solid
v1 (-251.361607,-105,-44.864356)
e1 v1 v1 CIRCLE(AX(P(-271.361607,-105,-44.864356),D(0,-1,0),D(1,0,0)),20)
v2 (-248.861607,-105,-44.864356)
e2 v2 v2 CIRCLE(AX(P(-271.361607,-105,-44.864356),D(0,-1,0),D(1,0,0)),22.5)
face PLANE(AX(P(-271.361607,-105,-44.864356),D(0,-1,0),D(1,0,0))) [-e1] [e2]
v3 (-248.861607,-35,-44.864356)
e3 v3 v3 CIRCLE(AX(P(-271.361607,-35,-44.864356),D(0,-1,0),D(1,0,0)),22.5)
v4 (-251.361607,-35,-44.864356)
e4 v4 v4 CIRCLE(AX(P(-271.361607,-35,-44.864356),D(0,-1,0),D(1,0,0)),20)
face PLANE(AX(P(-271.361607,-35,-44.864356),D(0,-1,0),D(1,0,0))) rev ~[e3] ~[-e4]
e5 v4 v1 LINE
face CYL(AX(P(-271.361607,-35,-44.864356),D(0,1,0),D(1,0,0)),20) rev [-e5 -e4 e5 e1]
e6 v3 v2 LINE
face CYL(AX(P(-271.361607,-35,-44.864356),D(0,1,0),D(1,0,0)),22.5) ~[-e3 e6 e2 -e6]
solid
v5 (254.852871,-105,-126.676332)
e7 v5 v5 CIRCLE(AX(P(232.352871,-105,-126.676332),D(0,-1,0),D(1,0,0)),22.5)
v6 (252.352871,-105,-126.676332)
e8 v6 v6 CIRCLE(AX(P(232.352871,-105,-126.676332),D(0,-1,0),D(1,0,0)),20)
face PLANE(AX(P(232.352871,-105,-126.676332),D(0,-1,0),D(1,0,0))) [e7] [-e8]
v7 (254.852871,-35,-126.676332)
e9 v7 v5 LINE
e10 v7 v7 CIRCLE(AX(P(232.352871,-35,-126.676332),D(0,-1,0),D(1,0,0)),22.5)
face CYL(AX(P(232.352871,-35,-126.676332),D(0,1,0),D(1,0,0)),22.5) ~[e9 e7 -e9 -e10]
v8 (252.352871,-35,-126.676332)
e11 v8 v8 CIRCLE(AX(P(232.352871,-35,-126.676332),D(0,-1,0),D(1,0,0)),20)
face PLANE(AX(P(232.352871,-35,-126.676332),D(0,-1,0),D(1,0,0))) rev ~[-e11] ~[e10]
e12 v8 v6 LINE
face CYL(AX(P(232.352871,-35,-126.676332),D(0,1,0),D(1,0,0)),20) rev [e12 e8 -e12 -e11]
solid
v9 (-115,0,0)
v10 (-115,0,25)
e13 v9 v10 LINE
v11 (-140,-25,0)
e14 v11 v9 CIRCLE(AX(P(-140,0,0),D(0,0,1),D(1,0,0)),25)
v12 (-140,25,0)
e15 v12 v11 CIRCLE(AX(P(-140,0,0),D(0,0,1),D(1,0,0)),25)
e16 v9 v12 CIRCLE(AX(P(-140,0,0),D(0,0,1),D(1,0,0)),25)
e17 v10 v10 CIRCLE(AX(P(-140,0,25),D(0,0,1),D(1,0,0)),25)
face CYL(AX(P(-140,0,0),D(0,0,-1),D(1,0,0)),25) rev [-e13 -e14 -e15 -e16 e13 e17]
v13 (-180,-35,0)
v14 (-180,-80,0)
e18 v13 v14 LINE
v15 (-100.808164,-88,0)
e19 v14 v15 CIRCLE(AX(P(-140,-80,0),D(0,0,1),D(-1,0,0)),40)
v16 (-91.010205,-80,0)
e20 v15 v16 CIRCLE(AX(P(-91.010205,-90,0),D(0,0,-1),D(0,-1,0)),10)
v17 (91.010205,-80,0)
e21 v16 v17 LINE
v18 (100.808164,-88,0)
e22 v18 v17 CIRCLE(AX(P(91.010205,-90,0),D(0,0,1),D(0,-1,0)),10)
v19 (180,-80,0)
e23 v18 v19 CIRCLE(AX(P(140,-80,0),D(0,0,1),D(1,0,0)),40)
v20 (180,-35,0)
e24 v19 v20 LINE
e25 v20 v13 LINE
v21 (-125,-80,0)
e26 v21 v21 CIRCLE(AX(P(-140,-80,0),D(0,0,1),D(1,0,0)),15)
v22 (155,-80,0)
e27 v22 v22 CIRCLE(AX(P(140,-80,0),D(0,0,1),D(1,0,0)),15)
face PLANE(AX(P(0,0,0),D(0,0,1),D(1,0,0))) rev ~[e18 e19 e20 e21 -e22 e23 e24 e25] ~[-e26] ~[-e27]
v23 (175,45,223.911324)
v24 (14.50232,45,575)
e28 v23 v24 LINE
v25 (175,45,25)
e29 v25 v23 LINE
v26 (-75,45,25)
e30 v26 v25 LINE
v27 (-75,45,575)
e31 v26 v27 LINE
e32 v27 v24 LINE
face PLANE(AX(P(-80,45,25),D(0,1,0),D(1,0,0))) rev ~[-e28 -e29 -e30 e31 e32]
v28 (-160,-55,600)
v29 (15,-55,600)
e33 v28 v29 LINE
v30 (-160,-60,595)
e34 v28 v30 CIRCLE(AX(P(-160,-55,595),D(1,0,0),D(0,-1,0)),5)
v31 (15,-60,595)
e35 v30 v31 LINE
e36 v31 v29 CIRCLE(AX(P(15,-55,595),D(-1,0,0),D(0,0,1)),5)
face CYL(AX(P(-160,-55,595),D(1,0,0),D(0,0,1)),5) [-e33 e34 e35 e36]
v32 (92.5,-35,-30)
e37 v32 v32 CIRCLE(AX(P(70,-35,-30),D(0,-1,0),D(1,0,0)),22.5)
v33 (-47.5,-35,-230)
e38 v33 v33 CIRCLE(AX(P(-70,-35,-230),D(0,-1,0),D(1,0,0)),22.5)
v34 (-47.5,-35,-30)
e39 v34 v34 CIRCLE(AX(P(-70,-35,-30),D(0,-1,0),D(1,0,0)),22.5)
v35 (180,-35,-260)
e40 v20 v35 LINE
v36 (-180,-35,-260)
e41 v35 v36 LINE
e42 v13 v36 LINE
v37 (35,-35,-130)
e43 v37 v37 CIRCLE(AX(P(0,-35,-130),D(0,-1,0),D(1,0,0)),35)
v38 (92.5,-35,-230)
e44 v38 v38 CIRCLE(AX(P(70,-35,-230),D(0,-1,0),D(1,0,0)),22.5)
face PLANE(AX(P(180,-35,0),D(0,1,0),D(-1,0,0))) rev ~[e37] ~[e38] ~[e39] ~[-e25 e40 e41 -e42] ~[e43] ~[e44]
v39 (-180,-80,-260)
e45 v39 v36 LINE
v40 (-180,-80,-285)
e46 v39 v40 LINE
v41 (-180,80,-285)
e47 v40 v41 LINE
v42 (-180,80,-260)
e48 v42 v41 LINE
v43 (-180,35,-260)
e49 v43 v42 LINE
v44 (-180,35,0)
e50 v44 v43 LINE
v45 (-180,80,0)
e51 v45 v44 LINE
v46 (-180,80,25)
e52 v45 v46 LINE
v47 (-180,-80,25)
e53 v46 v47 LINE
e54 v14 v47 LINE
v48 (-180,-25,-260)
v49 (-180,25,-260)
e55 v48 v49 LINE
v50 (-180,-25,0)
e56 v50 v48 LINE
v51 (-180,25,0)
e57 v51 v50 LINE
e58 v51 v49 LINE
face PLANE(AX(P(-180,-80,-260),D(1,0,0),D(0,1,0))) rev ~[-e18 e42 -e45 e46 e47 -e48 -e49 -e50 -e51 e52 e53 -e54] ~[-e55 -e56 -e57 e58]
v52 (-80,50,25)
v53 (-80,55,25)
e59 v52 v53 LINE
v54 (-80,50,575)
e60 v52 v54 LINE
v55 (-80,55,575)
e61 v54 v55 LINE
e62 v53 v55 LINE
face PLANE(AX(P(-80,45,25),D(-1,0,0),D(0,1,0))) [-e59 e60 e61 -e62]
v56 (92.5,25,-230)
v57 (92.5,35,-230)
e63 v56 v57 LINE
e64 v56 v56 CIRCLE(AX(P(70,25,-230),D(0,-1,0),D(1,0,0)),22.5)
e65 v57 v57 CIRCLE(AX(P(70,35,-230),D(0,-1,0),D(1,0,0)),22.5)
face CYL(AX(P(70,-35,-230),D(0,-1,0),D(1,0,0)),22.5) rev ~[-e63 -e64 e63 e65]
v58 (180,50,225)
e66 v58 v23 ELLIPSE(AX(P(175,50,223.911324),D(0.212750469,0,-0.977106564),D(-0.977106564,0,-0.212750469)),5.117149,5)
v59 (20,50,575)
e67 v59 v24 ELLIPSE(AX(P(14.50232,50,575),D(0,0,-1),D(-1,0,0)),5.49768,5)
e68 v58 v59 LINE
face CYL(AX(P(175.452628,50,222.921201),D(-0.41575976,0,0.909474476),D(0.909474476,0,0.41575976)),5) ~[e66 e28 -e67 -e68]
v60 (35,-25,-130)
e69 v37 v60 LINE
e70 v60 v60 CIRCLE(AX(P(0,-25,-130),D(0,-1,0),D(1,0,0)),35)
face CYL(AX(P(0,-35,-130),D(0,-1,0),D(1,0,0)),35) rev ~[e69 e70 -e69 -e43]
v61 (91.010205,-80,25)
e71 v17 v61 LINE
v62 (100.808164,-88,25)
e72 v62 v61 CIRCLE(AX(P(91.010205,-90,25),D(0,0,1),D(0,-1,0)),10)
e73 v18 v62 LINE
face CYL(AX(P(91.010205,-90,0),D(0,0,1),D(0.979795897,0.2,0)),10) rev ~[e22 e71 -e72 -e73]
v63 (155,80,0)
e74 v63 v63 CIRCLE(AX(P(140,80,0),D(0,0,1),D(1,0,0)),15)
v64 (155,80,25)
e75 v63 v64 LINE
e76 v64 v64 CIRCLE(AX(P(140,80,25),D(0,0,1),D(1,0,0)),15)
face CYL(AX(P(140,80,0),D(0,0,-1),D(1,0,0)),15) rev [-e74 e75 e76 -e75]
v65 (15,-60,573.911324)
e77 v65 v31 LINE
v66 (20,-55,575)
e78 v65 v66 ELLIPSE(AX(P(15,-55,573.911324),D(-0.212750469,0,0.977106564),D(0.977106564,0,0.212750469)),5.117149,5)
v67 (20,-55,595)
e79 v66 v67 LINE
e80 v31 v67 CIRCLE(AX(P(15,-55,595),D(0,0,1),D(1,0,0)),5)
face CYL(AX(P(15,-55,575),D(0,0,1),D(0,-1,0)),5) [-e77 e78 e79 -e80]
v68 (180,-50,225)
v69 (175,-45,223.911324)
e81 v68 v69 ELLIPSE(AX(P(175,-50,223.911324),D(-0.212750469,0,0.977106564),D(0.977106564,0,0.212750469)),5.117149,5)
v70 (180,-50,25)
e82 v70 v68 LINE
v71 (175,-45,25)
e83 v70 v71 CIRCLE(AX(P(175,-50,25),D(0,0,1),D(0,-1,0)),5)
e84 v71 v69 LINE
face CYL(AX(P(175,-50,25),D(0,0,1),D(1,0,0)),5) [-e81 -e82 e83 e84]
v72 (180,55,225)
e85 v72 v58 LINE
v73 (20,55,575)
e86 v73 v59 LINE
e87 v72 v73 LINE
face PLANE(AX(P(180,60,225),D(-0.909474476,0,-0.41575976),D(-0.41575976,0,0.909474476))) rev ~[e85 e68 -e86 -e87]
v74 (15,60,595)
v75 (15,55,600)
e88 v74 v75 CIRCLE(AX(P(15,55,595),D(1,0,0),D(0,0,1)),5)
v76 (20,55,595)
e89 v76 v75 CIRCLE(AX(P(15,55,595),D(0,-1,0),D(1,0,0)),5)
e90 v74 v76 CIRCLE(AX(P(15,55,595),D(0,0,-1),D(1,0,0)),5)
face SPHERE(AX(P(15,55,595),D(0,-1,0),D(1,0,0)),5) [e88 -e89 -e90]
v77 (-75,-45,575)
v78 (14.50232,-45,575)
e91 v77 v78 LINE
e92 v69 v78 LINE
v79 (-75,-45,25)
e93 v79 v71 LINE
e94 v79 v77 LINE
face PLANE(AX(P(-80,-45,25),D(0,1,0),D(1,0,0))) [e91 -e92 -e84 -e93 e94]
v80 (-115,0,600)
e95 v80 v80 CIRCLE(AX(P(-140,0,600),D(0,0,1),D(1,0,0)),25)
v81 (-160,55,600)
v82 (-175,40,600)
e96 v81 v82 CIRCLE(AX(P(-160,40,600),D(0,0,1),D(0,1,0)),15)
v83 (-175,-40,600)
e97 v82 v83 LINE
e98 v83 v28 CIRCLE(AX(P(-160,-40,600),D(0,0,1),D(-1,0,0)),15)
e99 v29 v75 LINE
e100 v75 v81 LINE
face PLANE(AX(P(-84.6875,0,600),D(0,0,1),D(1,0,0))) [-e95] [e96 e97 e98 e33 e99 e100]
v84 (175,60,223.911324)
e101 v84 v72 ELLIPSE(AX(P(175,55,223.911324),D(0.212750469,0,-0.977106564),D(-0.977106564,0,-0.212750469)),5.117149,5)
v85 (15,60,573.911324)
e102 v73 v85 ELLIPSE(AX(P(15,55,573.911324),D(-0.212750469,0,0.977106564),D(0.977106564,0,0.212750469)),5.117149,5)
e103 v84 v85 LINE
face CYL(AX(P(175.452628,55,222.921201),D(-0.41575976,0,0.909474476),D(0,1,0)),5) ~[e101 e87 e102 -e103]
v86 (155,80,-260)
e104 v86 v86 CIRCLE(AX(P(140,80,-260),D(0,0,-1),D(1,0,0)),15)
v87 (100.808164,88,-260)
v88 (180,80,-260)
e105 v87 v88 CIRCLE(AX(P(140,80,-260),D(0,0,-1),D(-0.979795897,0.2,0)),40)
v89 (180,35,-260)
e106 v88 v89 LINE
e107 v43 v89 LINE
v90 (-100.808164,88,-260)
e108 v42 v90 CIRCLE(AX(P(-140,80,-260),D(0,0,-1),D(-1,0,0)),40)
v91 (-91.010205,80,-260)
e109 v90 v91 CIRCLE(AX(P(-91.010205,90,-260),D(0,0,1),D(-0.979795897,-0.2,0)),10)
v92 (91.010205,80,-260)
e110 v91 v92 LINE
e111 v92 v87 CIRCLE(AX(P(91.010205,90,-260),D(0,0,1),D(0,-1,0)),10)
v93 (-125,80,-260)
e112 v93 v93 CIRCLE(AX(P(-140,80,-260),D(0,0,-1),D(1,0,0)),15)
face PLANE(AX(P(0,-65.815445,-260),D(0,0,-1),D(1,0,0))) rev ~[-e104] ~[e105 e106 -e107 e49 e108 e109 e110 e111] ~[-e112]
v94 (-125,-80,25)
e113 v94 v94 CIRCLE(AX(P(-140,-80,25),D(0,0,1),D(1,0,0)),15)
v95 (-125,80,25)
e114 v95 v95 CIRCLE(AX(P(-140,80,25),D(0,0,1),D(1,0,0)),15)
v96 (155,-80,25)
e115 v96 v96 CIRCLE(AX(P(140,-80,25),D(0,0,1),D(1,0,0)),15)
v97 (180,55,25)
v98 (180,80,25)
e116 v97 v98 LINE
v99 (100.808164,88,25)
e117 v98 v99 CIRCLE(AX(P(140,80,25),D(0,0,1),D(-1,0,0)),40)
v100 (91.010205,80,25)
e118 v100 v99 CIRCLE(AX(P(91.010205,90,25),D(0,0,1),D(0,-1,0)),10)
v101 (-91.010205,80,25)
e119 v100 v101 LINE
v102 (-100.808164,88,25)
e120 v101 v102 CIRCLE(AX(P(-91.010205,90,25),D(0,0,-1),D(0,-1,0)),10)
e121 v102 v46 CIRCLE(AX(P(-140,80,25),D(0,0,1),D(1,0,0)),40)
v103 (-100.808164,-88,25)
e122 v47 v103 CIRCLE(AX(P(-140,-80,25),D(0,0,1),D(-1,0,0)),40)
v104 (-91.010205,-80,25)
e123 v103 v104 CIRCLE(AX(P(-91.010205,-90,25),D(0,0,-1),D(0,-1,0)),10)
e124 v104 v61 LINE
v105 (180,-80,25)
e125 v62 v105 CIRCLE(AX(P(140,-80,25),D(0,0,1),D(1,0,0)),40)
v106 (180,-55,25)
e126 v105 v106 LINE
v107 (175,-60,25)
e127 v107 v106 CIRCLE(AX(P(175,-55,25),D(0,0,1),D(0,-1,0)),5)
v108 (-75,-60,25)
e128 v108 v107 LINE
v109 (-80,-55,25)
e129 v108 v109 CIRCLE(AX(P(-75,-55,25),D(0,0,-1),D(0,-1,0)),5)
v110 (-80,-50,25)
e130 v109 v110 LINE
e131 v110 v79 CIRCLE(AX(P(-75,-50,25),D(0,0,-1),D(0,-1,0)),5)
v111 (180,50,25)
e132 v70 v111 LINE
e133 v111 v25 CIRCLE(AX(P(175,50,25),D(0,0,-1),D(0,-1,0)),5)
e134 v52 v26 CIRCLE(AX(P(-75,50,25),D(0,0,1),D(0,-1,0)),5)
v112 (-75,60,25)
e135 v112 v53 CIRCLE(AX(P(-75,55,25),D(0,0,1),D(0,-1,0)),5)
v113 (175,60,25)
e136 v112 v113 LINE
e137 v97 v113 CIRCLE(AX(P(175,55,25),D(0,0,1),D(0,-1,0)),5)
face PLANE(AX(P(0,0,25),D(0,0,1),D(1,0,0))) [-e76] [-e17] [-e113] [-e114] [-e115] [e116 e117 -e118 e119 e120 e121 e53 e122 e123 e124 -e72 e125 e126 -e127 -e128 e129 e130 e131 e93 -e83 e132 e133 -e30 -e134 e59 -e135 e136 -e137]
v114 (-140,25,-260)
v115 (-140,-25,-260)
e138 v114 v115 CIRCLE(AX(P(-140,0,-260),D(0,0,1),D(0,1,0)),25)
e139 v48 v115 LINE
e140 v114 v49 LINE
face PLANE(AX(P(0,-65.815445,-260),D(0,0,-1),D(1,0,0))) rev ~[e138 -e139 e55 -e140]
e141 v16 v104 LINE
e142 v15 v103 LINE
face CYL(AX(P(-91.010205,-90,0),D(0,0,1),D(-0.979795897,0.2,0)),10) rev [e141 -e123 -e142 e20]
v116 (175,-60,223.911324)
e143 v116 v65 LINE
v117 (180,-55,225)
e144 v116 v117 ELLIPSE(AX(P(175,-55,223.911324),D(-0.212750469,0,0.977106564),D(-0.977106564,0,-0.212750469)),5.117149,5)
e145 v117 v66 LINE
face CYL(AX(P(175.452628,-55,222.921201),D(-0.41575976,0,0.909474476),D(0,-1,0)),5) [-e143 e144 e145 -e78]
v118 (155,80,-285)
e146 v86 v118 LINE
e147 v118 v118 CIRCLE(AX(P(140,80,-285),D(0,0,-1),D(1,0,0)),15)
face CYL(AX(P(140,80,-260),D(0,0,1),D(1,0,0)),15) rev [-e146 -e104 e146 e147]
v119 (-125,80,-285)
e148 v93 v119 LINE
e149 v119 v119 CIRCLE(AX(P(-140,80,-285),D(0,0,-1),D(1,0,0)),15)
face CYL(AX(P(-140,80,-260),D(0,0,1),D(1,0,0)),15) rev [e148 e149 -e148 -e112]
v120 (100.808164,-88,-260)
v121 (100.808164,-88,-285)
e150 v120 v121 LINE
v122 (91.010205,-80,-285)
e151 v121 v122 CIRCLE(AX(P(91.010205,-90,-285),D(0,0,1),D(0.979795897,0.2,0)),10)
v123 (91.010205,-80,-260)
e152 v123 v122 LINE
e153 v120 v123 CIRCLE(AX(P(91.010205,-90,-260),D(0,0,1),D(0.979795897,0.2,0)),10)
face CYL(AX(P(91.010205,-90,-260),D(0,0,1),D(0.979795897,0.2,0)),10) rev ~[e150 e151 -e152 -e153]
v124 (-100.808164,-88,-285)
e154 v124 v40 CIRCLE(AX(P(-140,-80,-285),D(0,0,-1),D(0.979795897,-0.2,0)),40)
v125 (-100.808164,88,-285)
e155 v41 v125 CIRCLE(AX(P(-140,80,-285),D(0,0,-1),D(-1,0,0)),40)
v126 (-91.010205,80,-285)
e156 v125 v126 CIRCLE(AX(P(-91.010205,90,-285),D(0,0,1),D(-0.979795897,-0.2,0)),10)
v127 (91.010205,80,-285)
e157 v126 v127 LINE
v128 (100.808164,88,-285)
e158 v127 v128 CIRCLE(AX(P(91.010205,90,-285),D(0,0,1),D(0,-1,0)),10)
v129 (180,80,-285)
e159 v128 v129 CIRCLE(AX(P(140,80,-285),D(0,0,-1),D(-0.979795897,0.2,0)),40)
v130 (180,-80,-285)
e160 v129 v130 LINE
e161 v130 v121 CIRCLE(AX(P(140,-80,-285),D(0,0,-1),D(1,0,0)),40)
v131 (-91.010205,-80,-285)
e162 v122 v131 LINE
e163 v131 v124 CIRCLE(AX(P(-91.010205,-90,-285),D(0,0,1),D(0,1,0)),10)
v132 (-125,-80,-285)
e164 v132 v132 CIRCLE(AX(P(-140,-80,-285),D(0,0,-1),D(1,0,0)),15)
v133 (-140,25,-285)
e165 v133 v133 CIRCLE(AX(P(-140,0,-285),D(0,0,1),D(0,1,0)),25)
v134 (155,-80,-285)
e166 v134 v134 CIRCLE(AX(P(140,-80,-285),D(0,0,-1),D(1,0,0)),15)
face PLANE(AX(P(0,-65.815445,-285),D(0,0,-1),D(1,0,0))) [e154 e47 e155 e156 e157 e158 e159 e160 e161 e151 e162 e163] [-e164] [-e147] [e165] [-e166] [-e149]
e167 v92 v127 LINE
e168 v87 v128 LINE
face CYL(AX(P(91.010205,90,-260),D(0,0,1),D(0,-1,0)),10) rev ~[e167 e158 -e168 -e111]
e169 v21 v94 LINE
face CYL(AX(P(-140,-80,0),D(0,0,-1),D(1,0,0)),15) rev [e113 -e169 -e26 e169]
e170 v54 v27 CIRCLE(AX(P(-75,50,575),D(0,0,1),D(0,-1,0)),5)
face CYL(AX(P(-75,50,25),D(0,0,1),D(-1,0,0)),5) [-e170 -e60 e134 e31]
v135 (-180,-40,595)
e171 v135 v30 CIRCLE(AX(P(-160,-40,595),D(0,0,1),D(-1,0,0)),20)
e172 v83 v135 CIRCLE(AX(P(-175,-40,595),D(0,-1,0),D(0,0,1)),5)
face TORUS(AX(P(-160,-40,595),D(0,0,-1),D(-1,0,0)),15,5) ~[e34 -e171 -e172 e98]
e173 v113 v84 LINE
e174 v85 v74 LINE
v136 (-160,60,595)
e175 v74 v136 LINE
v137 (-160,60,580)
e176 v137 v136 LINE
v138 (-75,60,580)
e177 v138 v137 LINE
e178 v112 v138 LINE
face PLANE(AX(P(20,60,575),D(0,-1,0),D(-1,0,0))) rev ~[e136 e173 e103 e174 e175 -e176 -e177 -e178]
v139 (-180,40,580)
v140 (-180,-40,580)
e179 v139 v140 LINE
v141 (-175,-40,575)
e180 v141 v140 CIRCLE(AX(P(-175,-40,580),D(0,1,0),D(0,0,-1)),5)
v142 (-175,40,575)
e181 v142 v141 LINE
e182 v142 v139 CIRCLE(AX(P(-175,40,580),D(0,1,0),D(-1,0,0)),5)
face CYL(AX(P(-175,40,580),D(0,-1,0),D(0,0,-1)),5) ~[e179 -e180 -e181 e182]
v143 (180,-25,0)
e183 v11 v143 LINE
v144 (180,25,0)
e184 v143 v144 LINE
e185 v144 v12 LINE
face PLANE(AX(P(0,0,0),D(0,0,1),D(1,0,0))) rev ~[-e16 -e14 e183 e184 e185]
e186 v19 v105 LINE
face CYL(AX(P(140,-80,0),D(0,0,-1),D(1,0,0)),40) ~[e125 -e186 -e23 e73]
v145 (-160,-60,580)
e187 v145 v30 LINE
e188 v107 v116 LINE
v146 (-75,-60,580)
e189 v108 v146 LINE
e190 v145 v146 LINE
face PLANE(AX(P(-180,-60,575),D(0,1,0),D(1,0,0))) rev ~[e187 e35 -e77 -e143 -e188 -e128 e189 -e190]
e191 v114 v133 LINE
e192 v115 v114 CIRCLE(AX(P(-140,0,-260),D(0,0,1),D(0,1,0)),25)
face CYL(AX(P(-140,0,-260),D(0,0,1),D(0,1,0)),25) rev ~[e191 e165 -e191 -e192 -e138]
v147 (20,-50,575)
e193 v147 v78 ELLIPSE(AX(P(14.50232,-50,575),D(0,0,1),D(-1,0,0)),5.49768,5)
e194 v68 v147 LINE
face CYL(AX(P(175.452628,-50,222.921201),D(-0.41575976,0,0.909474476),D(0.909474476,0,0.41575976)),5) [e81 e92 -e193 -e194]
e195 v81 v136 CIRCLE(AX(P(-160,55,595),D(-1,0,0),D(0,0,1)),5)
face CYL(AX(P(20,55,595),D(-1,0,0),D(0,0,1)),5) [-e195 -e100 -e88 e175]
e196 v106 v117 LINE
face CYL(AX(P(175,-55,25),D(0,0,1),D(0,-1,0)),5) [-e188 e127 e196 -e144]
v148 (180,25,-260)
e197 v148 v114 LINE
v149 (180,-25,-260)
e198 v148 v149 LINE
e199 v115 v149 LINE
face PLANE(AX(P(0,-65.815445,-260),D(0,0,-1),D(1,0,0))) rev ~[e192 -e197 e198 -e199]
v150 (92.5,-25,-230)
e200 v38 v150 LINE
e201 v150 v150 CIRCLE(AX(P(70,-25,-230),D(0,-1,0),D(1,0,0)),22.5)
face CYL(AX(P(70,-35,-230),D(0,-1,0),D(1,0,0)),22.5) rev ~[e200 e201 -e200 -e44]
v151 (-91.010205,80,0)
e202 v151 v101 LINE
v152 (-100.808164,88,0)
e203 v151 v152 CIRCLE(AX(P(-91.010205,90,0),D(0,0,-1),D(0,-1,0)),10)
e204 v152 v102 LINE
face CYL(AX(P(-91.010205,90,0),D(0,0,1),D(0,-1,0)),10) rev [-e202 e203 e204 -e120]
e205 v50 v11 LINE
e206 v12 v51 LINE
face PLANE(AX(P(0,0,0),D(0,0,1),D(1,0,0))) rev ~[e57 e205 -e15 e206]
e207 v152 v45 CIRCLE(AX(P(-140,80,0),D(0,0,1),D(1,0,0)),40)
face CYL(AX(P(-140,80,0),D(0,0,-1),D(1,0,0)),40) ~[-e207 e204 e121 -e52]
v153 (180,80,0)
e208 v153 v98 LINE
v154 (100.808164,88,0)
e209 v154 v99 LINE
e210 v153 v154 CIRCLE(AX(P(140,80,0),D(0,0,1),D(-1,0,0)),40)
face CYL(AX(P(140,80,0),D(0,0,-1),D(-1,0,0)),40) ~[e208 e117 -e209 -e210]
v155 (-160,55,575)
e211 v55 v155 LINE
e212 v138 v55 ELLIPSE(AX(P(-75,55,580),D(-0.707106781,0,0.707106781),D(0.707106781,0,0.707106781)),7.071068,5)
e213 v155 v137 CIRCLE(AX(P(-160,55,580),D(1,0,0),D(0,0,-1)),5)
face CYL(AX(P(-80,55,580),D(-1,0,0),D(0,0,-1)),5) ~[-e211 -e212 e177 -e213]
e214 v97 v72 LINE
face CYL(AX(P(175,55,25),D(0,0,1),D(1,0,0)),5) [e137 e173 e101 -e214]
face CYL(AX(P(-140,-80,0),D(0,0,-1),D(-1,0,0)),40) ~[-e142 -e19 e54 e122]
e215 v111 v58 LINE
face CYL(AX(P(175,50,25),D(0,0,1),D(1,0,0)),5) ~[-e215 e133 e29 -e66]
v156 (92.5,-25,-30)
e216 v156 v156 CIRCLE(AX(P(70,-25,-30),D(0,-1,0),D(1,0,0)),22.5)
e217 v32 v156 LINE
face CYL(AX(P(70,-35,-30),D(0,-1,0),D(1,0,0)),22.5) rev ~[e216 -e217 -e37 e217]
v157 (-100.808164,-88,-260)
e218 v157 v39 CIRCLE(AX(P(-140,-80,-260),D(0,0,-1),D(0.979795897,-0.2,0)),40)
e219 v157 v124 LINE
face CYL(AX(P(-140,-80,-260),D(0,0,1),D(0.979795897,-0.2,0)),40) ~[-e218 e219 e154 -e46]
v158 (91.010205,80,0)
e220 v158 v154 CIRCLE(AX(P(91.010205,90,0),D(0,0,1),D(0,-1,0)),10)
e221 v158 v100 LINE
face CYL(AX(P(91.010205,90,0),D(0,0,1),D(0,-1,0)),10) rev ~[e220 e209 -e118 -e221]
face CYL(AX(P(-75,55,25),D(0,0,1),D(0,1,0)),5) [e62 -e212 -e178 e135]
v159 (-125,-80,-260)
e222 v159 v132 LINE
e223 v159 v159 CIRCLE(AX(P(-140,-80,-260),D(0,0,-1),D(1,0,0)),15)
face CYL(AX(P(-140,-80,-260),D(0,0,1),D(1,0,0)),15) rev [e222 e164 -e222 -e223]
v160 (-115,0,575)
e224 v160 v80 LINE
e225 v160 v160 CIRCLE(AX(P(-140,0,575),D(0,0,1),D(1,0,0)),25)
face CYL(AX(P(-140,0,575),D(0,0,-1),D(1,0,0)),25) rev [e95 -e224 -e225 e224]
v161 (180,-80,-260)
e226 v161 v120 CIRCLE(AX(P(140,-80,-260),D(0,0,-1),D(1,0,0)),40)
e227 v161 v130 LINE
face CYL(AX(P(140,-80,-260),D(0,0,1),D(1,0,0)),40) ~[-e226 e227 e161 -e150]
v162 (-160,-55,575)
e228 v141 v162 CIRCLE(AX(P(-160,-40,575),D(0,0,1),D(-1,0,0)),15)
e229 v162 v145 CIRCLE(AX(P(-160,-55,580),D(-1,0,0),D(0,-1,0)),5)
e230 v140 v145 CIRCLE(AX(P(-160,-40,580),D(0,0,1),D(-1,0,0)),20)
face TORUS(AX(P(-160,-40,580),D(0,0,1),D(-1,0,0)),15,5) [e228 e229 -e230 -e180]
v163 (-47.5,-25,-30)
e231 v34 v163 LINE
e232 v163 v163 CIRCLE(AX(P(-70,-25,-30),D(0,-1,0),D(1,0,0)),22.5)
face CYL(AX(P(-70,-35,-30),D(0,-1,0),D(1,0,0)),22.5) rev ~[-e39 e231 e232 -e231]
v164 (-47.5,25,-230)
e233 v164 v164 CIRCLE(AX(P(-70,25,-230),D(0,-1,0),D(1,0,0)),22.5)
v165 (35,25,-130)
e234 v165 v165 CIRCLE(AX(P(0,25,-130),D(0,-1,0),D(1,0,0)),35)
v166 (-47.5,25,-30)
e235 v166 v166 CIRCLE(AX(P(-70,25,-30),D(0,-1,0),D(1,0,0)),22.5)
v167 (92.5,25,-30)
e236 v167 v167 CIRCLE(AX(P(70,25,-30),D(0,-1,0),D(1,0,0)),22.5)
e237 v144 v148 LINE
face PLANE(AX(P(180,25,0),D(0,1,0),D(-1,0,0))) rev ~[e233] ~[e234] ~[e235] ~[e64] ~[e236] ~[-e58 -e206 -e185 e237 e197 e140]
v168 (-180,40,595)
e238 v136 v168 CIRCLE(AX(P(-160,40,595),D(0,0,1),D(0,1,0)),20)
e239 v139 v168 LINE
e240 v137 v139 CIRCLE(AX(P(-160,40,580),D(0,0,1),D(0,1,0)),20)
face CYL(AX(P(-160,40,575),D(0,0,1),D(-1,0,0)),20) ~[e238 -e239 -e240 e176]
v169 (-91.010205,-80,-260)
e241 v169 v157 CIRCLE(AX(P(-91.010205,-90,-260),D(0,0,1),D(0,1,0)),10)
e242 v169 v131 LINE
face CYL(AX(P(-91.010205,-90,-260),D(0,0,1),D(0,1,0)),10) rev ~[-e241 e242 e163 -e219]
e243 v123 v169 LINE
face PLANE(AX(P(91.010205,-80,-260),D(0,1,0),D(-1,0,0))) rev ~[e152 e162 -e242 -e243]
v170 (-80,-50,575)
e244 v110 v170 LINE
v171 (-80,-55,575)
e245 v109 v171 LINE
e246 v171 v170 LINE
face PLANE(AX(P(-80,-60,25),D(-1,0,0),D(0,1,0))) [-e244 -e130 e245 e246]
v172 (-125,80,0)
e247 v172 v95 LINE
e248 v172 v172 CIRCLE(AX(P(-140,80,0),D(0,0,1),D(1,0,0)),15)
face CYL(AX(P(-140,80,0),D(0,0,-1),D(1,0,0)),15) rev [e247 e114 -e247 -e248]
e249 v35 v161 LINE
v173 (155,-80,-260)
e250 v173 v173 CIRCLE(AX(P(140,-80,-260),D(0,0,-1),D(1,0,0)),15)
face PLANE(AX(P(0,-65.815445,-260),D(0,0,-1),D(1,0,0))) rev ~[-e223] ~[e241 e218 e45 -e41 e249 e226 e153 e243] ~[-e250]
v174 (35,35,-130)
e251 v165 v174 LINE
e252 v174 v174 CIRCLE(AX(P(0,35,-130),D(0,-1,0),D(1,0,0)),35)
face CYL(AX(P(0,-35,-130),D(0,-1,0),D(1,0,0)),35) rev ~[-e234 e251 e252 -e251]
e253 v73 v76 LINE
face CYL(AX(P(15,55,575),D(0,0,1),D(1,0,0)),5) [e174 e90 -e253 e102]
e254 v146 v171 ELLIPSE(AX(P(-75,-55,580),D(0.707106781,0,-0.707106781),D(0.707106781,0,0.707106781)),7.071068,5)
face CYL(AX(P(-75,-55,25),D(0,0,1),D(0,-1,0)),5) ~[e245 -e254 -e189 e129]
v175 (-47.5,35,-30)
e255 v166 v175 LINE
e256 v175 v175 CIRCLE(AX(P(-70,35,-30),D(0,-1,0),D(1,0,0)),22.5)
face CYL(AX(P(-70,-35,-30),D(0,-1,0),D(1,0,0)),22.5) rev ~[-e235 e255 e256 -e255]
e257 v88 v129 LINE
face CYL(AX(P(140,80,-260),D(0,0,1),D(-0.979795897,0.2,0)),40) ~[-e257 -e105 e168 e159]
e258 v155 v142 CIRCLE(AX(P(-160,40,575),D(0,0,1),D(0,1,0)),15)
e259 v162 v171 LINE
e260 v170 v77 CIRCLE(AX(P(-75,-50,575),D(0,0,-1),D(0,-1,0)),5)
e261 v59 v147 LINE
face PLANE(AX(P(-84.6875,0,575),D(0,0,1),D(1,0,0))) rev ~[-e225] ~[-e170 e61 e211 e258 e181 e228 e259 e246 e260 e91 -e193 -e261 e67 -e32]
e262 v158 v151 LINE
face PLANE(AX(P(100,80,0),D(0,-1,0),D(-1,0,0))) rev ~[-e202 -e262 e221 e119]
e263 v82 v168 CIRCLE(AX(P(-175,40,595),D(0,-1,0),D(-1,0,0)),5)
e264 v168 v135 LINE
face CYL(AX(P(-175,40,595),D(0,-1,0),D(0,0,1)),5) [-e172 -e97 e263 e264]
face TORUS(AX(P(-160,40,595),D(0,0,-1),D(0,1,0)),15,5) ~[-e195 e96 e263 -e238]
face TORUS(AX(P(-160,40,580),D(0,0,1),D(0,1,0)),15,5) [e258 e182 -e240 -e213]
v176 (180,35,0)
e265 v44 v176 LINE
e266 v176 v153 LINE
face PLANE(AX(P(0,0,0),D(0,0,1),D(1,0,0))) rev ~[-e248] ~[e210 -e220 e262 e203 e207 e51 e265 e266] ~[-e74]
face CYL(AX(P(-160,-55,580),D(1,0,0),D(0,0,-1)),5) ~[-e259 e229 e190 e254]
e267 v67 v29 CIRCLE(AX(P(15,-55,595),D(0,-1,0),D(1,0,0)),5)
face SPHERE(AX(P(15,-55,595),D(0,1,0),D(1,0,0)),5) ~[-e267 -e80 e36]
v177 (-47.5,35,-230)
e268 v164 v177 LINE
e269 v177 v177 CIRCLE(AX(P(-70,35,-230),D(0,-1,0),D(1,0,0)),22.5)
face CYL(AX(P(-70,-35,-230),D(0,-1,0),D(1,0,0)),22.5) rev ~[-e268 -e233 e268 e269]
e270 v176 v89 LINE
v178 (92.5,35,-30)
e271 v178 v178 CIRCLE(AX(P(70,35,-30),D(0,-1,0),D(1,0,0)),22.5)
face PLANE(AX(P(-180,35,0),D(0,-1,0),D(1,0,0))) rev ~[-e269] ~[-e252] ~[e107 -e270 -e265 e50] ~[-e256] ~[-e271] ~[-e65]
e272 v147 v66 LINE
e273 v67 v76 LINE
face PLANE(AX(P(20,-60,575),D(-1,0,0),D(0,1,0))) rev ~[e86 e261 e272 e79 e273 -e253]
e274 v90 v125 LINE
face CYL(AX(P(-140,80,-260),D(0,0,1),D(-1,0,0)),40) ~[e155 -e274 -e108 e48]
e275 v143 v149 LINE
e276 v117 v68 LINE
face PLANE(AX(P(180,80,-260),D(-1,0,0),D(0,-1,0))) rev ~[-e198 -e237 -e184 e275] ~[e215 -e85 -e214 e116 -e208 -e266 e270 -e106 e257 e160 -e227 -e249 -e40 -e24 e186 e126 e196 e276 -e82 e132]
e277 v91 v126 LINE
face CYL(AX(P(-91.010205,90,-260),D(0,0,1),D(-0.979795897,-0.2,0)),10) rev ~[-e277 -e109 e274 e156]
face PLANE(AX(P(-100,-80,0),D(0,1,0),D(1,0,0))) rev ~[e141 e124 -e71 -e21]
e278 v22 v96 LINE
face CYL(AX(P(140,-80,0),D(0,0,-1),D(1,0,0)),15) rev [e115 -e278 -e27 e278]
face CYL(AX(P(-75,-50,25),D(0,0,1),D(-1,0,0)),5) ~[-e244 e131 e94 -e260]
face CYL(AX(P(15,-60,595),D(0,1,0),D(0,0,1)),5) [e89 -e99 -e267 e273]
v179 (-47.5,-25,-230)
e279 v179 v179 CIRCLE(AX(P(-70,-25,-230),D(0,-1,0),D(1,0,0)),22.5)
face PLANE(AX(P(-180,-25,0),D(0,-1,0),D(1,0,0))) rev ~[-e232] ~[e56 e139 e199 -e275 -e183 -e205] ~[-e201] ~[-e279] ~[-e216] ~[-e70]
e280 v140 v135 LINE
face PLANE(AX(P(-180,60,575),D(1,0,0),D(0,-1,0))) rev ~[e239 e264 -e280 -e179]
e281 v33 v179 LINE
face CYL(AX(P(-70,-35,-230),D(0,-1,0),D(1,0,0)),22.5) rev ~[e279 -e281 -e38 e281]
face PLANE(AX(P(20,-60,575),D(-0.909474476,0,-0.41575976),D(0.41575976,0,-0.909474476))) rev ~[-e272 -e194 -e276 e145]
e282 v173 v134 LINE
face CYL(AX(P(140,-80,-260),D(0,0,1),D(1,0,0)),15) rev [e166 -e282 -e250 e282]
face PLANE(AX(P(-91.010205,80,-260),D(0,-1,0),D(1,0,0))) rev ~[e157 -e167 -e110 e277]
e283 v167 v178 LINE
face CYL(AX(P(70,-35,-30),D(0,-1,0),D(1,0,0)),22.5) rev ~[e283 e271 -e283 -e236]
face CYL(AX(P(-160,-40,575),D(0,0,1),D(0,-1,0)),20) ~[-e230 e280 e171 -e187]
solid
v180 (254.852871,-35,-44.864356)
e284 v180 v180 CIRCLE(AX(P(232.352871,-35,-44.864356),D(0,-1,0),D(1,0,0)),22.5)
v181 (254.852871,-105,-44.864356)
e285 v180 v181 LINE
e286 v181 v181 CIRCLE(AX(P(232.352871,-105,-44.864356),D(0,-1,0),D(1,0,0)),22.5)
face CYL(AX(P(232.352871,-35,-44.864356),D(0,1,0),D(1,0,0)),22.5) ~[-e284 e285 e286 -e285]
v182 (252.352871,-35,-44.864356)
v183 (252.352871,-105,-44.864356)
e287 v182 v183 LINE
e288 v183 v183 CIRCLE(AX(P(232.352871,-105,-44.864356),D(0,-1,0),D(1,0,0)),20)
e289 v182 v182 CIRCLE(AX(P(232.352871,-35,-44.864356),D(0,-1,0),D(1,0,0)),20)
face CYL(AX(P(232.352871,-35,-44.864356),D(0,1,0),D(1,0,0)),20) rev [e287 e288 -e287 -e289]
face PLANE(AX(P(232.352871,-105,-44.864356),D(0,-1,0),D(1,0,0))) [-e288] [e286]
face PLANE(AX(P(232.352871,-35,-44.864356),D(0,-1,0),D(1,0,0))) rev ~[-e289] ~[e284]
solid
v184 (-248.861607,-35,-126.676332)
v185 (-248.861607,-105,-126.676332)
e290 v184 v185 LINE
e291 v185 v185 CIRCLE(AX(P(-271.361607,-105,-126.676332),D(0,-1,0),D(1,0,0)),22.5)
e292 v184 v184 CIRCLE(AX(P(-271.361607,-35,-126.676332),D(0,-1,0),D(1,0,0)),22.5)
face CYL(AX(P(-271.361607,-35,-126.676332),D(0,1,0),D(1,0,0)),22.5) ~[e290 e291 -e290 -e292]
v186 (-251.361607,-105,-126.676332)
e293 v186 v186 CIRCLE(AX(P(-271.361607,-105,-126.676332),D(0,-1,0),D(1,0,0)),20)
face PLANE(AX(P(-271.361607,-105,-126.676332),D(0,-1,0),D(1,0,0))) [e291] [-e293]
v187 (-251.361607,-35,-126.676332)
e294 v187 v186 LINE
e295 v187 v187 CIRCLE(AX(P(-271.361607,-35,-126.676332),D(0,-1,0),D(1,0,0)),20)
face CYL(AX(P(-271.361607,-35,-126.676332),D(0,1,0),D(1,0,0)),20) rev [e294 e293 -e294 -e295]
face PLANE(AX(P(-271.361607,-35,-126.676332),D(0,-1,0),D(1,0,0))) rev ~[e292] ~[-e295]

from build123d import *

# Parameters (mm, degrees)
F0_R      = 25
F0_R_2    = 15
F1_DEPTH  = 25
F2_R      = 10
F4_DEPTH  = 260
F5_R      = 15
F6_DEPTH  = 25
F7_R      = 22.5
F7_R_2    = 35
F8_DEPTH  = 70
F9_R      = 22.5
F9_R_2    = 20
F10_DEPTH = 70
F11_W     = 260
F11_H     = 15
F12_DEPTH = 550
F14_DEPTH = 35
F16_DEPTH = 70
F17_R     = 25
F17_W     = 100
F17_H     = 15
F18_DEPTH = 25
F19_R     = 20
F20_R     = 5


with BuildPart() as f1:
    # F0 (on Top) → F1 (new body)
    with BuildSketch(Plane.XY):
        with BuildLine():
            Line((100, 80), (-100, 80))
            ThreePointArc((-100, 80), (-140, 40), (-180, 80))
            Line((-180, 80), (-180, -80))
            ThreePointArc((-180, -80), (-140, -40), (-100, -80))
            Line((-100, -80), (100, -80))
            ThreePointArc((100, -80), (140, -40), (180, -80))
            Line((180, -80), (180, 80))
            ThreePointArc((180, 80), (140, 40), (100, 80))
        make_face()
        with Locations((-140, 0)):
            Circle(F0_R, mode=Mode.SUBTRACT)
        with BuildLine():
            ThreePointArc((-180, 80), (-140, 40), (-100, 80))
            ThreePointArc((-100, 80), (-140, 120), (-180, 80))
        make_face()
        with Locations((-140, 80)):
            Circle(F0_R_2, mode=Mode.SUBTRACT)
        with BuildLine():
            ThreePointArc((180, 80), (140, 120), (100, 80))
            ThreePointArc((100, 80), (140, 40), (180, 80))
        make_face()
        with Locations((140, 80)):
            Circle(F0_R_2, mode=Mode.SUBTRACT)
        with BuildLine():
            ThreePointArc((100, -80), (140, -120), (180, -80))
            ThreePointArc((180, -80), (140, -40), (100, -80))
        make_face()
        with Locations((140, -80)):
            Circle(F0_R_2, mode=Mode.SUBTRACT)
        with BuildLine():
            ThreePointArc((-100, -80), (-140, -40), (-180, -80))
            ThreePointArc((-180, -80), (-140, -120), (-100, -80))
        make_face()
        with Locations((-140, -80)):
            Circle(F0_R_2, mode=Mode.SUBTRACT)
    extrude(amount=F1_DEPTH)

    # F2
    f2_edges = [f1.edges().sort_by_distance(p)[0] for p in [
        (-100, 80, 12.5),
        (100, 80, 12.5),
        (100, -80, 12.5),
        (-100, -80, 12.5),
    ]]
    fillet(f2_edges, radius=F2_R)

    # F3 (on face) → F4 (join)
    with BuildSketch(Plane(origin=(0, 0, 0), x_dir=(1, 0, 0), z_dir=(0, 0, -1))):
        Polygon((-180, 35), (-180, 25), (-140, 25), (180, 25), (180, 35), align=None)
        Polygon((-140, -25), (-180, -25), (-180, -35), (180, -35), (180, -25), align=None)
    extrude(amount=F4_DEPTH)

    # F5 (on face) → F6 (join)
    with BuildSketch(Plane(origin=(0, 0, -260), x_dir=(1, 0, 0), z_dir=(0, 0, -1))):
        with BuildLine():
            Line((-180, 80), (-180, 35))
            Line((-180, 35), (180, 35))
            Line((180, 35), (180, 80))
            ThreePointArc((180, 80), (144.0203584802, 119.7974461202), (100.8081641155, 88))
            ThreePointArc((100.8081641155, 88), (97.3347604647, 82.2540333076), (91.0102051443, 80))
            Line((91.0102051443, 80), (-91.0102051443, 80))
            ThreePointArc((-91.0102051443, 80), (-97.3347604647, 82.2540333076), (-100.8081641155, 88))
            ThreePointArc((-100.8081641155, 88), (-144.0203584802, 119.7974461202), (-180, 80))
        make_face()
        with Locations((-140, 80)):
            Circle(F5_R, mode=Mode.SUBTRACT)
        with Locations((140, 80)):
            Circle(F5_R, mode=Mode.SUBTRACT)
        Polygon((180, 35), (-180, 35), (-180, 25), (-140, 25), (180, 25), align=None)
        with BuildLine():
            Line((-140, 25), (-180, 25))
            Line((-180, 25), (-180, -25))
            Line((-180, -25), (-140, -25))
            ThreePointArc((-140, -25), (-165, 0), (-140, 25))
        make_face()
        with BuildLine():
            Line((180, -25), (180, 25))
            Line((180, 25), (-140, 25))
            ThreePointArc((-140, 25), (-115, 0), (-140, -25))
            Line((-140, -25), (180, -25))
        make_face()
        Polygon((-140, -25), (-180, -25), (-180, -35), (180, -35), (180, -25), align=None)
        with BuildLine():
            Line((180, -35), (-180, -35))
            Line((-180, -35), (-180, -80))
            ThreePointArc((-180, -80), (-144.0203584802, -119.7974461202), (-100.8081641155, -88))
            ThreePointArc((-100.8081641155, -88), (-97.3347604647, -82.2540333076), (-91.0102051443, -80))
            Line((-91.0102051443, -80), (91.0102051443, -80))
            ThreePointArc((91.0102051443, -80), (97.3347604647, -82.2540333076), (100.8081641155, -88))
            ThreePointArc((100.8081641155, -88), (144.0203584802, -119.7974461202), (180, -80))
            Line((180, -80), (180, -35))
        make_face()
        with Locations((-140, -80)):
            Circle(F5_R, mode=Mode.SUBTRACT)
        with Locations((140, -80)):
            Circle(F5_R, mode=Mode.SUBTRACT)
    extrude(amount=F6_DEPTH)

    # F7 (on face) → F8 (cut)
    with BuildSketch(Plane.XZ.offset(35)):
        with Locations((-70, -30)):
            Circle(F7_R)
        with Locations((70, -30)):
            Circle(F7_R)
        with Locations((0, -130)):
            Circle(F7_R_2)
        with Locations((70, -230)):
            Circle(F7_R)
        with Locations((-70, -230)):
            Circle(F7_R)
    extrude(amount=-F8_DEPTH, mode=Mode.SUBTRACT)

    # F11 (on face) → F12 (join)
    with BuildSketch(Plane.XY.offset(25)):
        with Locations((50, 52.5)):
            Rectangle(F11_W, F11_H)
        with Locations((50, -52.5)):
            Rectangle(F11_W, F11_H)
    extrude(amount=F12_DEPTH)

    # F13 (on face) → F14 (cut, symmetric)
    with BuildSketch(Plane.XZ.offset(60)):
        Polygon((180, 575), (20, 575), (180, 225), align=None)
    extrude(amount=F14_DEPTH, both=True, mode=Mode.SUBTRACT)

    # F15 (on face) → F16 (cut)
    with BuildSketch(Plane(origin=(0, 60, 0), x_dir=(-1, 0, 0), z_dir=(0, 1, 0))):
        Polygon((-180, 225), (-20, 575), (-180, 575), align=None)
    extrude(amount=-F16_DEPTH, mode=Mode.SUBTRACT)

    # F17 (on face) → F18 (join)
    with BuildSketch(Plane.XY.offset(575)):
        Polygon((-180, -60), (-80, -60), (-80, -45), (20, -45), (20, 45), (-80, 45), (-80, 60), (-180, 60), align=None)
        with Locations((-140, 0)):
            Circle(F17_R, mode=Mode.SUBTRACT)
        with Locations((-30, 52.5)):
            Rectangle(F17_W, F17_H)
        with Locations((-30, -52.5)):
            Rectangle(F17_W, F17_H)
    extrude(amount=F18_DEPTH)

    # F19
    f19_edges = [f1.edges().sort_by_distance(p)[0] for p in [
        (-180, 60, 587.5),
        (-180, -60, 587.5),
    ]]
    fillet(f19_edges, radius=F19_R)

    # F20
    f20_edges = [f1.edges().sort_by_distance(p)[0] for p in [
        (20, 0, 600),
        (20, -60, 587.5),
        (20, 60, 587.5),
        (100, 60, 400),
        (100, 45, 400),
        (180, 45, 125),
        (180, 60, 125),
        (-80, 60, 300),
        (-80, 45, 300),
        (-80, -60, 300),
        (-80, -45, 300),
        (-180, 0, 600),
        (-180, 0, 575),
        (100, -60, 400),
        (180, -60, 125),
        (180, -45, 125),
        (100, -45, 400),
    ]]
    fillet(f20_edges, radius=F20_R)


with BuildPart() as f10:
    # F9 (on face) → F10 (new body)
    with BuildSketch(Plane.XZ.offset(35)):
        with Locations((-271.361607454, -44.8643562805)):
            Circle(F9_R)
        with Locations((-271.361607454, -44.8643562805)):
            Circle(F9_R_2, mode=Mode.SUBTRACT)
    extrude(amount=F10_DEPTH)


with BuildPart() as f10b:
    # F9 (on face) → F10, piece 2 (new body)
    with BuildSketch(Plane.XZ.offset(35)):
        with Locations((-271.361607454, -126.6763324428)):
            Circle(F9_R)
        with Locations((-271.361607454, -126.6763324428)):
            Circle(F9_R_2, mode=Mode.SUBTRACT)
    extrude(amount=F10_DEPTH)


with BuildPart() as f10c:
    # F9 (on face) → F10, piece 3 (new body)
    with BuildSketch(Plane.XZ.offset(35)):
        with Locations((232.3528708436, -44.8643562805)):
            Circle(F9_R)
        with Locations((232.3528708436, -44.8643562805)):
            Circle(F9_R_2, mode=Mode.SUBTRACT)
    extrude(amount=F10_DEPTH)


with BuildPart() as f10d:
    # F9 (on face) → F10, piece 4 (new body)
    with BuildSketch(Plane.XZ.offset(35)):
        with Locations((232.3528708436, -126.6763324428)):
            Circle(F9_R)
        with Locations((232.3528708436, -126.6763324428)):
            Circle(F9_R_2, mode=Mode.SUBTRACT)
    extrude(amount=F10_DEPTH)


solid = Compound([f1.part, f10.part, f10b.part, f10c.part, f10d.part])
